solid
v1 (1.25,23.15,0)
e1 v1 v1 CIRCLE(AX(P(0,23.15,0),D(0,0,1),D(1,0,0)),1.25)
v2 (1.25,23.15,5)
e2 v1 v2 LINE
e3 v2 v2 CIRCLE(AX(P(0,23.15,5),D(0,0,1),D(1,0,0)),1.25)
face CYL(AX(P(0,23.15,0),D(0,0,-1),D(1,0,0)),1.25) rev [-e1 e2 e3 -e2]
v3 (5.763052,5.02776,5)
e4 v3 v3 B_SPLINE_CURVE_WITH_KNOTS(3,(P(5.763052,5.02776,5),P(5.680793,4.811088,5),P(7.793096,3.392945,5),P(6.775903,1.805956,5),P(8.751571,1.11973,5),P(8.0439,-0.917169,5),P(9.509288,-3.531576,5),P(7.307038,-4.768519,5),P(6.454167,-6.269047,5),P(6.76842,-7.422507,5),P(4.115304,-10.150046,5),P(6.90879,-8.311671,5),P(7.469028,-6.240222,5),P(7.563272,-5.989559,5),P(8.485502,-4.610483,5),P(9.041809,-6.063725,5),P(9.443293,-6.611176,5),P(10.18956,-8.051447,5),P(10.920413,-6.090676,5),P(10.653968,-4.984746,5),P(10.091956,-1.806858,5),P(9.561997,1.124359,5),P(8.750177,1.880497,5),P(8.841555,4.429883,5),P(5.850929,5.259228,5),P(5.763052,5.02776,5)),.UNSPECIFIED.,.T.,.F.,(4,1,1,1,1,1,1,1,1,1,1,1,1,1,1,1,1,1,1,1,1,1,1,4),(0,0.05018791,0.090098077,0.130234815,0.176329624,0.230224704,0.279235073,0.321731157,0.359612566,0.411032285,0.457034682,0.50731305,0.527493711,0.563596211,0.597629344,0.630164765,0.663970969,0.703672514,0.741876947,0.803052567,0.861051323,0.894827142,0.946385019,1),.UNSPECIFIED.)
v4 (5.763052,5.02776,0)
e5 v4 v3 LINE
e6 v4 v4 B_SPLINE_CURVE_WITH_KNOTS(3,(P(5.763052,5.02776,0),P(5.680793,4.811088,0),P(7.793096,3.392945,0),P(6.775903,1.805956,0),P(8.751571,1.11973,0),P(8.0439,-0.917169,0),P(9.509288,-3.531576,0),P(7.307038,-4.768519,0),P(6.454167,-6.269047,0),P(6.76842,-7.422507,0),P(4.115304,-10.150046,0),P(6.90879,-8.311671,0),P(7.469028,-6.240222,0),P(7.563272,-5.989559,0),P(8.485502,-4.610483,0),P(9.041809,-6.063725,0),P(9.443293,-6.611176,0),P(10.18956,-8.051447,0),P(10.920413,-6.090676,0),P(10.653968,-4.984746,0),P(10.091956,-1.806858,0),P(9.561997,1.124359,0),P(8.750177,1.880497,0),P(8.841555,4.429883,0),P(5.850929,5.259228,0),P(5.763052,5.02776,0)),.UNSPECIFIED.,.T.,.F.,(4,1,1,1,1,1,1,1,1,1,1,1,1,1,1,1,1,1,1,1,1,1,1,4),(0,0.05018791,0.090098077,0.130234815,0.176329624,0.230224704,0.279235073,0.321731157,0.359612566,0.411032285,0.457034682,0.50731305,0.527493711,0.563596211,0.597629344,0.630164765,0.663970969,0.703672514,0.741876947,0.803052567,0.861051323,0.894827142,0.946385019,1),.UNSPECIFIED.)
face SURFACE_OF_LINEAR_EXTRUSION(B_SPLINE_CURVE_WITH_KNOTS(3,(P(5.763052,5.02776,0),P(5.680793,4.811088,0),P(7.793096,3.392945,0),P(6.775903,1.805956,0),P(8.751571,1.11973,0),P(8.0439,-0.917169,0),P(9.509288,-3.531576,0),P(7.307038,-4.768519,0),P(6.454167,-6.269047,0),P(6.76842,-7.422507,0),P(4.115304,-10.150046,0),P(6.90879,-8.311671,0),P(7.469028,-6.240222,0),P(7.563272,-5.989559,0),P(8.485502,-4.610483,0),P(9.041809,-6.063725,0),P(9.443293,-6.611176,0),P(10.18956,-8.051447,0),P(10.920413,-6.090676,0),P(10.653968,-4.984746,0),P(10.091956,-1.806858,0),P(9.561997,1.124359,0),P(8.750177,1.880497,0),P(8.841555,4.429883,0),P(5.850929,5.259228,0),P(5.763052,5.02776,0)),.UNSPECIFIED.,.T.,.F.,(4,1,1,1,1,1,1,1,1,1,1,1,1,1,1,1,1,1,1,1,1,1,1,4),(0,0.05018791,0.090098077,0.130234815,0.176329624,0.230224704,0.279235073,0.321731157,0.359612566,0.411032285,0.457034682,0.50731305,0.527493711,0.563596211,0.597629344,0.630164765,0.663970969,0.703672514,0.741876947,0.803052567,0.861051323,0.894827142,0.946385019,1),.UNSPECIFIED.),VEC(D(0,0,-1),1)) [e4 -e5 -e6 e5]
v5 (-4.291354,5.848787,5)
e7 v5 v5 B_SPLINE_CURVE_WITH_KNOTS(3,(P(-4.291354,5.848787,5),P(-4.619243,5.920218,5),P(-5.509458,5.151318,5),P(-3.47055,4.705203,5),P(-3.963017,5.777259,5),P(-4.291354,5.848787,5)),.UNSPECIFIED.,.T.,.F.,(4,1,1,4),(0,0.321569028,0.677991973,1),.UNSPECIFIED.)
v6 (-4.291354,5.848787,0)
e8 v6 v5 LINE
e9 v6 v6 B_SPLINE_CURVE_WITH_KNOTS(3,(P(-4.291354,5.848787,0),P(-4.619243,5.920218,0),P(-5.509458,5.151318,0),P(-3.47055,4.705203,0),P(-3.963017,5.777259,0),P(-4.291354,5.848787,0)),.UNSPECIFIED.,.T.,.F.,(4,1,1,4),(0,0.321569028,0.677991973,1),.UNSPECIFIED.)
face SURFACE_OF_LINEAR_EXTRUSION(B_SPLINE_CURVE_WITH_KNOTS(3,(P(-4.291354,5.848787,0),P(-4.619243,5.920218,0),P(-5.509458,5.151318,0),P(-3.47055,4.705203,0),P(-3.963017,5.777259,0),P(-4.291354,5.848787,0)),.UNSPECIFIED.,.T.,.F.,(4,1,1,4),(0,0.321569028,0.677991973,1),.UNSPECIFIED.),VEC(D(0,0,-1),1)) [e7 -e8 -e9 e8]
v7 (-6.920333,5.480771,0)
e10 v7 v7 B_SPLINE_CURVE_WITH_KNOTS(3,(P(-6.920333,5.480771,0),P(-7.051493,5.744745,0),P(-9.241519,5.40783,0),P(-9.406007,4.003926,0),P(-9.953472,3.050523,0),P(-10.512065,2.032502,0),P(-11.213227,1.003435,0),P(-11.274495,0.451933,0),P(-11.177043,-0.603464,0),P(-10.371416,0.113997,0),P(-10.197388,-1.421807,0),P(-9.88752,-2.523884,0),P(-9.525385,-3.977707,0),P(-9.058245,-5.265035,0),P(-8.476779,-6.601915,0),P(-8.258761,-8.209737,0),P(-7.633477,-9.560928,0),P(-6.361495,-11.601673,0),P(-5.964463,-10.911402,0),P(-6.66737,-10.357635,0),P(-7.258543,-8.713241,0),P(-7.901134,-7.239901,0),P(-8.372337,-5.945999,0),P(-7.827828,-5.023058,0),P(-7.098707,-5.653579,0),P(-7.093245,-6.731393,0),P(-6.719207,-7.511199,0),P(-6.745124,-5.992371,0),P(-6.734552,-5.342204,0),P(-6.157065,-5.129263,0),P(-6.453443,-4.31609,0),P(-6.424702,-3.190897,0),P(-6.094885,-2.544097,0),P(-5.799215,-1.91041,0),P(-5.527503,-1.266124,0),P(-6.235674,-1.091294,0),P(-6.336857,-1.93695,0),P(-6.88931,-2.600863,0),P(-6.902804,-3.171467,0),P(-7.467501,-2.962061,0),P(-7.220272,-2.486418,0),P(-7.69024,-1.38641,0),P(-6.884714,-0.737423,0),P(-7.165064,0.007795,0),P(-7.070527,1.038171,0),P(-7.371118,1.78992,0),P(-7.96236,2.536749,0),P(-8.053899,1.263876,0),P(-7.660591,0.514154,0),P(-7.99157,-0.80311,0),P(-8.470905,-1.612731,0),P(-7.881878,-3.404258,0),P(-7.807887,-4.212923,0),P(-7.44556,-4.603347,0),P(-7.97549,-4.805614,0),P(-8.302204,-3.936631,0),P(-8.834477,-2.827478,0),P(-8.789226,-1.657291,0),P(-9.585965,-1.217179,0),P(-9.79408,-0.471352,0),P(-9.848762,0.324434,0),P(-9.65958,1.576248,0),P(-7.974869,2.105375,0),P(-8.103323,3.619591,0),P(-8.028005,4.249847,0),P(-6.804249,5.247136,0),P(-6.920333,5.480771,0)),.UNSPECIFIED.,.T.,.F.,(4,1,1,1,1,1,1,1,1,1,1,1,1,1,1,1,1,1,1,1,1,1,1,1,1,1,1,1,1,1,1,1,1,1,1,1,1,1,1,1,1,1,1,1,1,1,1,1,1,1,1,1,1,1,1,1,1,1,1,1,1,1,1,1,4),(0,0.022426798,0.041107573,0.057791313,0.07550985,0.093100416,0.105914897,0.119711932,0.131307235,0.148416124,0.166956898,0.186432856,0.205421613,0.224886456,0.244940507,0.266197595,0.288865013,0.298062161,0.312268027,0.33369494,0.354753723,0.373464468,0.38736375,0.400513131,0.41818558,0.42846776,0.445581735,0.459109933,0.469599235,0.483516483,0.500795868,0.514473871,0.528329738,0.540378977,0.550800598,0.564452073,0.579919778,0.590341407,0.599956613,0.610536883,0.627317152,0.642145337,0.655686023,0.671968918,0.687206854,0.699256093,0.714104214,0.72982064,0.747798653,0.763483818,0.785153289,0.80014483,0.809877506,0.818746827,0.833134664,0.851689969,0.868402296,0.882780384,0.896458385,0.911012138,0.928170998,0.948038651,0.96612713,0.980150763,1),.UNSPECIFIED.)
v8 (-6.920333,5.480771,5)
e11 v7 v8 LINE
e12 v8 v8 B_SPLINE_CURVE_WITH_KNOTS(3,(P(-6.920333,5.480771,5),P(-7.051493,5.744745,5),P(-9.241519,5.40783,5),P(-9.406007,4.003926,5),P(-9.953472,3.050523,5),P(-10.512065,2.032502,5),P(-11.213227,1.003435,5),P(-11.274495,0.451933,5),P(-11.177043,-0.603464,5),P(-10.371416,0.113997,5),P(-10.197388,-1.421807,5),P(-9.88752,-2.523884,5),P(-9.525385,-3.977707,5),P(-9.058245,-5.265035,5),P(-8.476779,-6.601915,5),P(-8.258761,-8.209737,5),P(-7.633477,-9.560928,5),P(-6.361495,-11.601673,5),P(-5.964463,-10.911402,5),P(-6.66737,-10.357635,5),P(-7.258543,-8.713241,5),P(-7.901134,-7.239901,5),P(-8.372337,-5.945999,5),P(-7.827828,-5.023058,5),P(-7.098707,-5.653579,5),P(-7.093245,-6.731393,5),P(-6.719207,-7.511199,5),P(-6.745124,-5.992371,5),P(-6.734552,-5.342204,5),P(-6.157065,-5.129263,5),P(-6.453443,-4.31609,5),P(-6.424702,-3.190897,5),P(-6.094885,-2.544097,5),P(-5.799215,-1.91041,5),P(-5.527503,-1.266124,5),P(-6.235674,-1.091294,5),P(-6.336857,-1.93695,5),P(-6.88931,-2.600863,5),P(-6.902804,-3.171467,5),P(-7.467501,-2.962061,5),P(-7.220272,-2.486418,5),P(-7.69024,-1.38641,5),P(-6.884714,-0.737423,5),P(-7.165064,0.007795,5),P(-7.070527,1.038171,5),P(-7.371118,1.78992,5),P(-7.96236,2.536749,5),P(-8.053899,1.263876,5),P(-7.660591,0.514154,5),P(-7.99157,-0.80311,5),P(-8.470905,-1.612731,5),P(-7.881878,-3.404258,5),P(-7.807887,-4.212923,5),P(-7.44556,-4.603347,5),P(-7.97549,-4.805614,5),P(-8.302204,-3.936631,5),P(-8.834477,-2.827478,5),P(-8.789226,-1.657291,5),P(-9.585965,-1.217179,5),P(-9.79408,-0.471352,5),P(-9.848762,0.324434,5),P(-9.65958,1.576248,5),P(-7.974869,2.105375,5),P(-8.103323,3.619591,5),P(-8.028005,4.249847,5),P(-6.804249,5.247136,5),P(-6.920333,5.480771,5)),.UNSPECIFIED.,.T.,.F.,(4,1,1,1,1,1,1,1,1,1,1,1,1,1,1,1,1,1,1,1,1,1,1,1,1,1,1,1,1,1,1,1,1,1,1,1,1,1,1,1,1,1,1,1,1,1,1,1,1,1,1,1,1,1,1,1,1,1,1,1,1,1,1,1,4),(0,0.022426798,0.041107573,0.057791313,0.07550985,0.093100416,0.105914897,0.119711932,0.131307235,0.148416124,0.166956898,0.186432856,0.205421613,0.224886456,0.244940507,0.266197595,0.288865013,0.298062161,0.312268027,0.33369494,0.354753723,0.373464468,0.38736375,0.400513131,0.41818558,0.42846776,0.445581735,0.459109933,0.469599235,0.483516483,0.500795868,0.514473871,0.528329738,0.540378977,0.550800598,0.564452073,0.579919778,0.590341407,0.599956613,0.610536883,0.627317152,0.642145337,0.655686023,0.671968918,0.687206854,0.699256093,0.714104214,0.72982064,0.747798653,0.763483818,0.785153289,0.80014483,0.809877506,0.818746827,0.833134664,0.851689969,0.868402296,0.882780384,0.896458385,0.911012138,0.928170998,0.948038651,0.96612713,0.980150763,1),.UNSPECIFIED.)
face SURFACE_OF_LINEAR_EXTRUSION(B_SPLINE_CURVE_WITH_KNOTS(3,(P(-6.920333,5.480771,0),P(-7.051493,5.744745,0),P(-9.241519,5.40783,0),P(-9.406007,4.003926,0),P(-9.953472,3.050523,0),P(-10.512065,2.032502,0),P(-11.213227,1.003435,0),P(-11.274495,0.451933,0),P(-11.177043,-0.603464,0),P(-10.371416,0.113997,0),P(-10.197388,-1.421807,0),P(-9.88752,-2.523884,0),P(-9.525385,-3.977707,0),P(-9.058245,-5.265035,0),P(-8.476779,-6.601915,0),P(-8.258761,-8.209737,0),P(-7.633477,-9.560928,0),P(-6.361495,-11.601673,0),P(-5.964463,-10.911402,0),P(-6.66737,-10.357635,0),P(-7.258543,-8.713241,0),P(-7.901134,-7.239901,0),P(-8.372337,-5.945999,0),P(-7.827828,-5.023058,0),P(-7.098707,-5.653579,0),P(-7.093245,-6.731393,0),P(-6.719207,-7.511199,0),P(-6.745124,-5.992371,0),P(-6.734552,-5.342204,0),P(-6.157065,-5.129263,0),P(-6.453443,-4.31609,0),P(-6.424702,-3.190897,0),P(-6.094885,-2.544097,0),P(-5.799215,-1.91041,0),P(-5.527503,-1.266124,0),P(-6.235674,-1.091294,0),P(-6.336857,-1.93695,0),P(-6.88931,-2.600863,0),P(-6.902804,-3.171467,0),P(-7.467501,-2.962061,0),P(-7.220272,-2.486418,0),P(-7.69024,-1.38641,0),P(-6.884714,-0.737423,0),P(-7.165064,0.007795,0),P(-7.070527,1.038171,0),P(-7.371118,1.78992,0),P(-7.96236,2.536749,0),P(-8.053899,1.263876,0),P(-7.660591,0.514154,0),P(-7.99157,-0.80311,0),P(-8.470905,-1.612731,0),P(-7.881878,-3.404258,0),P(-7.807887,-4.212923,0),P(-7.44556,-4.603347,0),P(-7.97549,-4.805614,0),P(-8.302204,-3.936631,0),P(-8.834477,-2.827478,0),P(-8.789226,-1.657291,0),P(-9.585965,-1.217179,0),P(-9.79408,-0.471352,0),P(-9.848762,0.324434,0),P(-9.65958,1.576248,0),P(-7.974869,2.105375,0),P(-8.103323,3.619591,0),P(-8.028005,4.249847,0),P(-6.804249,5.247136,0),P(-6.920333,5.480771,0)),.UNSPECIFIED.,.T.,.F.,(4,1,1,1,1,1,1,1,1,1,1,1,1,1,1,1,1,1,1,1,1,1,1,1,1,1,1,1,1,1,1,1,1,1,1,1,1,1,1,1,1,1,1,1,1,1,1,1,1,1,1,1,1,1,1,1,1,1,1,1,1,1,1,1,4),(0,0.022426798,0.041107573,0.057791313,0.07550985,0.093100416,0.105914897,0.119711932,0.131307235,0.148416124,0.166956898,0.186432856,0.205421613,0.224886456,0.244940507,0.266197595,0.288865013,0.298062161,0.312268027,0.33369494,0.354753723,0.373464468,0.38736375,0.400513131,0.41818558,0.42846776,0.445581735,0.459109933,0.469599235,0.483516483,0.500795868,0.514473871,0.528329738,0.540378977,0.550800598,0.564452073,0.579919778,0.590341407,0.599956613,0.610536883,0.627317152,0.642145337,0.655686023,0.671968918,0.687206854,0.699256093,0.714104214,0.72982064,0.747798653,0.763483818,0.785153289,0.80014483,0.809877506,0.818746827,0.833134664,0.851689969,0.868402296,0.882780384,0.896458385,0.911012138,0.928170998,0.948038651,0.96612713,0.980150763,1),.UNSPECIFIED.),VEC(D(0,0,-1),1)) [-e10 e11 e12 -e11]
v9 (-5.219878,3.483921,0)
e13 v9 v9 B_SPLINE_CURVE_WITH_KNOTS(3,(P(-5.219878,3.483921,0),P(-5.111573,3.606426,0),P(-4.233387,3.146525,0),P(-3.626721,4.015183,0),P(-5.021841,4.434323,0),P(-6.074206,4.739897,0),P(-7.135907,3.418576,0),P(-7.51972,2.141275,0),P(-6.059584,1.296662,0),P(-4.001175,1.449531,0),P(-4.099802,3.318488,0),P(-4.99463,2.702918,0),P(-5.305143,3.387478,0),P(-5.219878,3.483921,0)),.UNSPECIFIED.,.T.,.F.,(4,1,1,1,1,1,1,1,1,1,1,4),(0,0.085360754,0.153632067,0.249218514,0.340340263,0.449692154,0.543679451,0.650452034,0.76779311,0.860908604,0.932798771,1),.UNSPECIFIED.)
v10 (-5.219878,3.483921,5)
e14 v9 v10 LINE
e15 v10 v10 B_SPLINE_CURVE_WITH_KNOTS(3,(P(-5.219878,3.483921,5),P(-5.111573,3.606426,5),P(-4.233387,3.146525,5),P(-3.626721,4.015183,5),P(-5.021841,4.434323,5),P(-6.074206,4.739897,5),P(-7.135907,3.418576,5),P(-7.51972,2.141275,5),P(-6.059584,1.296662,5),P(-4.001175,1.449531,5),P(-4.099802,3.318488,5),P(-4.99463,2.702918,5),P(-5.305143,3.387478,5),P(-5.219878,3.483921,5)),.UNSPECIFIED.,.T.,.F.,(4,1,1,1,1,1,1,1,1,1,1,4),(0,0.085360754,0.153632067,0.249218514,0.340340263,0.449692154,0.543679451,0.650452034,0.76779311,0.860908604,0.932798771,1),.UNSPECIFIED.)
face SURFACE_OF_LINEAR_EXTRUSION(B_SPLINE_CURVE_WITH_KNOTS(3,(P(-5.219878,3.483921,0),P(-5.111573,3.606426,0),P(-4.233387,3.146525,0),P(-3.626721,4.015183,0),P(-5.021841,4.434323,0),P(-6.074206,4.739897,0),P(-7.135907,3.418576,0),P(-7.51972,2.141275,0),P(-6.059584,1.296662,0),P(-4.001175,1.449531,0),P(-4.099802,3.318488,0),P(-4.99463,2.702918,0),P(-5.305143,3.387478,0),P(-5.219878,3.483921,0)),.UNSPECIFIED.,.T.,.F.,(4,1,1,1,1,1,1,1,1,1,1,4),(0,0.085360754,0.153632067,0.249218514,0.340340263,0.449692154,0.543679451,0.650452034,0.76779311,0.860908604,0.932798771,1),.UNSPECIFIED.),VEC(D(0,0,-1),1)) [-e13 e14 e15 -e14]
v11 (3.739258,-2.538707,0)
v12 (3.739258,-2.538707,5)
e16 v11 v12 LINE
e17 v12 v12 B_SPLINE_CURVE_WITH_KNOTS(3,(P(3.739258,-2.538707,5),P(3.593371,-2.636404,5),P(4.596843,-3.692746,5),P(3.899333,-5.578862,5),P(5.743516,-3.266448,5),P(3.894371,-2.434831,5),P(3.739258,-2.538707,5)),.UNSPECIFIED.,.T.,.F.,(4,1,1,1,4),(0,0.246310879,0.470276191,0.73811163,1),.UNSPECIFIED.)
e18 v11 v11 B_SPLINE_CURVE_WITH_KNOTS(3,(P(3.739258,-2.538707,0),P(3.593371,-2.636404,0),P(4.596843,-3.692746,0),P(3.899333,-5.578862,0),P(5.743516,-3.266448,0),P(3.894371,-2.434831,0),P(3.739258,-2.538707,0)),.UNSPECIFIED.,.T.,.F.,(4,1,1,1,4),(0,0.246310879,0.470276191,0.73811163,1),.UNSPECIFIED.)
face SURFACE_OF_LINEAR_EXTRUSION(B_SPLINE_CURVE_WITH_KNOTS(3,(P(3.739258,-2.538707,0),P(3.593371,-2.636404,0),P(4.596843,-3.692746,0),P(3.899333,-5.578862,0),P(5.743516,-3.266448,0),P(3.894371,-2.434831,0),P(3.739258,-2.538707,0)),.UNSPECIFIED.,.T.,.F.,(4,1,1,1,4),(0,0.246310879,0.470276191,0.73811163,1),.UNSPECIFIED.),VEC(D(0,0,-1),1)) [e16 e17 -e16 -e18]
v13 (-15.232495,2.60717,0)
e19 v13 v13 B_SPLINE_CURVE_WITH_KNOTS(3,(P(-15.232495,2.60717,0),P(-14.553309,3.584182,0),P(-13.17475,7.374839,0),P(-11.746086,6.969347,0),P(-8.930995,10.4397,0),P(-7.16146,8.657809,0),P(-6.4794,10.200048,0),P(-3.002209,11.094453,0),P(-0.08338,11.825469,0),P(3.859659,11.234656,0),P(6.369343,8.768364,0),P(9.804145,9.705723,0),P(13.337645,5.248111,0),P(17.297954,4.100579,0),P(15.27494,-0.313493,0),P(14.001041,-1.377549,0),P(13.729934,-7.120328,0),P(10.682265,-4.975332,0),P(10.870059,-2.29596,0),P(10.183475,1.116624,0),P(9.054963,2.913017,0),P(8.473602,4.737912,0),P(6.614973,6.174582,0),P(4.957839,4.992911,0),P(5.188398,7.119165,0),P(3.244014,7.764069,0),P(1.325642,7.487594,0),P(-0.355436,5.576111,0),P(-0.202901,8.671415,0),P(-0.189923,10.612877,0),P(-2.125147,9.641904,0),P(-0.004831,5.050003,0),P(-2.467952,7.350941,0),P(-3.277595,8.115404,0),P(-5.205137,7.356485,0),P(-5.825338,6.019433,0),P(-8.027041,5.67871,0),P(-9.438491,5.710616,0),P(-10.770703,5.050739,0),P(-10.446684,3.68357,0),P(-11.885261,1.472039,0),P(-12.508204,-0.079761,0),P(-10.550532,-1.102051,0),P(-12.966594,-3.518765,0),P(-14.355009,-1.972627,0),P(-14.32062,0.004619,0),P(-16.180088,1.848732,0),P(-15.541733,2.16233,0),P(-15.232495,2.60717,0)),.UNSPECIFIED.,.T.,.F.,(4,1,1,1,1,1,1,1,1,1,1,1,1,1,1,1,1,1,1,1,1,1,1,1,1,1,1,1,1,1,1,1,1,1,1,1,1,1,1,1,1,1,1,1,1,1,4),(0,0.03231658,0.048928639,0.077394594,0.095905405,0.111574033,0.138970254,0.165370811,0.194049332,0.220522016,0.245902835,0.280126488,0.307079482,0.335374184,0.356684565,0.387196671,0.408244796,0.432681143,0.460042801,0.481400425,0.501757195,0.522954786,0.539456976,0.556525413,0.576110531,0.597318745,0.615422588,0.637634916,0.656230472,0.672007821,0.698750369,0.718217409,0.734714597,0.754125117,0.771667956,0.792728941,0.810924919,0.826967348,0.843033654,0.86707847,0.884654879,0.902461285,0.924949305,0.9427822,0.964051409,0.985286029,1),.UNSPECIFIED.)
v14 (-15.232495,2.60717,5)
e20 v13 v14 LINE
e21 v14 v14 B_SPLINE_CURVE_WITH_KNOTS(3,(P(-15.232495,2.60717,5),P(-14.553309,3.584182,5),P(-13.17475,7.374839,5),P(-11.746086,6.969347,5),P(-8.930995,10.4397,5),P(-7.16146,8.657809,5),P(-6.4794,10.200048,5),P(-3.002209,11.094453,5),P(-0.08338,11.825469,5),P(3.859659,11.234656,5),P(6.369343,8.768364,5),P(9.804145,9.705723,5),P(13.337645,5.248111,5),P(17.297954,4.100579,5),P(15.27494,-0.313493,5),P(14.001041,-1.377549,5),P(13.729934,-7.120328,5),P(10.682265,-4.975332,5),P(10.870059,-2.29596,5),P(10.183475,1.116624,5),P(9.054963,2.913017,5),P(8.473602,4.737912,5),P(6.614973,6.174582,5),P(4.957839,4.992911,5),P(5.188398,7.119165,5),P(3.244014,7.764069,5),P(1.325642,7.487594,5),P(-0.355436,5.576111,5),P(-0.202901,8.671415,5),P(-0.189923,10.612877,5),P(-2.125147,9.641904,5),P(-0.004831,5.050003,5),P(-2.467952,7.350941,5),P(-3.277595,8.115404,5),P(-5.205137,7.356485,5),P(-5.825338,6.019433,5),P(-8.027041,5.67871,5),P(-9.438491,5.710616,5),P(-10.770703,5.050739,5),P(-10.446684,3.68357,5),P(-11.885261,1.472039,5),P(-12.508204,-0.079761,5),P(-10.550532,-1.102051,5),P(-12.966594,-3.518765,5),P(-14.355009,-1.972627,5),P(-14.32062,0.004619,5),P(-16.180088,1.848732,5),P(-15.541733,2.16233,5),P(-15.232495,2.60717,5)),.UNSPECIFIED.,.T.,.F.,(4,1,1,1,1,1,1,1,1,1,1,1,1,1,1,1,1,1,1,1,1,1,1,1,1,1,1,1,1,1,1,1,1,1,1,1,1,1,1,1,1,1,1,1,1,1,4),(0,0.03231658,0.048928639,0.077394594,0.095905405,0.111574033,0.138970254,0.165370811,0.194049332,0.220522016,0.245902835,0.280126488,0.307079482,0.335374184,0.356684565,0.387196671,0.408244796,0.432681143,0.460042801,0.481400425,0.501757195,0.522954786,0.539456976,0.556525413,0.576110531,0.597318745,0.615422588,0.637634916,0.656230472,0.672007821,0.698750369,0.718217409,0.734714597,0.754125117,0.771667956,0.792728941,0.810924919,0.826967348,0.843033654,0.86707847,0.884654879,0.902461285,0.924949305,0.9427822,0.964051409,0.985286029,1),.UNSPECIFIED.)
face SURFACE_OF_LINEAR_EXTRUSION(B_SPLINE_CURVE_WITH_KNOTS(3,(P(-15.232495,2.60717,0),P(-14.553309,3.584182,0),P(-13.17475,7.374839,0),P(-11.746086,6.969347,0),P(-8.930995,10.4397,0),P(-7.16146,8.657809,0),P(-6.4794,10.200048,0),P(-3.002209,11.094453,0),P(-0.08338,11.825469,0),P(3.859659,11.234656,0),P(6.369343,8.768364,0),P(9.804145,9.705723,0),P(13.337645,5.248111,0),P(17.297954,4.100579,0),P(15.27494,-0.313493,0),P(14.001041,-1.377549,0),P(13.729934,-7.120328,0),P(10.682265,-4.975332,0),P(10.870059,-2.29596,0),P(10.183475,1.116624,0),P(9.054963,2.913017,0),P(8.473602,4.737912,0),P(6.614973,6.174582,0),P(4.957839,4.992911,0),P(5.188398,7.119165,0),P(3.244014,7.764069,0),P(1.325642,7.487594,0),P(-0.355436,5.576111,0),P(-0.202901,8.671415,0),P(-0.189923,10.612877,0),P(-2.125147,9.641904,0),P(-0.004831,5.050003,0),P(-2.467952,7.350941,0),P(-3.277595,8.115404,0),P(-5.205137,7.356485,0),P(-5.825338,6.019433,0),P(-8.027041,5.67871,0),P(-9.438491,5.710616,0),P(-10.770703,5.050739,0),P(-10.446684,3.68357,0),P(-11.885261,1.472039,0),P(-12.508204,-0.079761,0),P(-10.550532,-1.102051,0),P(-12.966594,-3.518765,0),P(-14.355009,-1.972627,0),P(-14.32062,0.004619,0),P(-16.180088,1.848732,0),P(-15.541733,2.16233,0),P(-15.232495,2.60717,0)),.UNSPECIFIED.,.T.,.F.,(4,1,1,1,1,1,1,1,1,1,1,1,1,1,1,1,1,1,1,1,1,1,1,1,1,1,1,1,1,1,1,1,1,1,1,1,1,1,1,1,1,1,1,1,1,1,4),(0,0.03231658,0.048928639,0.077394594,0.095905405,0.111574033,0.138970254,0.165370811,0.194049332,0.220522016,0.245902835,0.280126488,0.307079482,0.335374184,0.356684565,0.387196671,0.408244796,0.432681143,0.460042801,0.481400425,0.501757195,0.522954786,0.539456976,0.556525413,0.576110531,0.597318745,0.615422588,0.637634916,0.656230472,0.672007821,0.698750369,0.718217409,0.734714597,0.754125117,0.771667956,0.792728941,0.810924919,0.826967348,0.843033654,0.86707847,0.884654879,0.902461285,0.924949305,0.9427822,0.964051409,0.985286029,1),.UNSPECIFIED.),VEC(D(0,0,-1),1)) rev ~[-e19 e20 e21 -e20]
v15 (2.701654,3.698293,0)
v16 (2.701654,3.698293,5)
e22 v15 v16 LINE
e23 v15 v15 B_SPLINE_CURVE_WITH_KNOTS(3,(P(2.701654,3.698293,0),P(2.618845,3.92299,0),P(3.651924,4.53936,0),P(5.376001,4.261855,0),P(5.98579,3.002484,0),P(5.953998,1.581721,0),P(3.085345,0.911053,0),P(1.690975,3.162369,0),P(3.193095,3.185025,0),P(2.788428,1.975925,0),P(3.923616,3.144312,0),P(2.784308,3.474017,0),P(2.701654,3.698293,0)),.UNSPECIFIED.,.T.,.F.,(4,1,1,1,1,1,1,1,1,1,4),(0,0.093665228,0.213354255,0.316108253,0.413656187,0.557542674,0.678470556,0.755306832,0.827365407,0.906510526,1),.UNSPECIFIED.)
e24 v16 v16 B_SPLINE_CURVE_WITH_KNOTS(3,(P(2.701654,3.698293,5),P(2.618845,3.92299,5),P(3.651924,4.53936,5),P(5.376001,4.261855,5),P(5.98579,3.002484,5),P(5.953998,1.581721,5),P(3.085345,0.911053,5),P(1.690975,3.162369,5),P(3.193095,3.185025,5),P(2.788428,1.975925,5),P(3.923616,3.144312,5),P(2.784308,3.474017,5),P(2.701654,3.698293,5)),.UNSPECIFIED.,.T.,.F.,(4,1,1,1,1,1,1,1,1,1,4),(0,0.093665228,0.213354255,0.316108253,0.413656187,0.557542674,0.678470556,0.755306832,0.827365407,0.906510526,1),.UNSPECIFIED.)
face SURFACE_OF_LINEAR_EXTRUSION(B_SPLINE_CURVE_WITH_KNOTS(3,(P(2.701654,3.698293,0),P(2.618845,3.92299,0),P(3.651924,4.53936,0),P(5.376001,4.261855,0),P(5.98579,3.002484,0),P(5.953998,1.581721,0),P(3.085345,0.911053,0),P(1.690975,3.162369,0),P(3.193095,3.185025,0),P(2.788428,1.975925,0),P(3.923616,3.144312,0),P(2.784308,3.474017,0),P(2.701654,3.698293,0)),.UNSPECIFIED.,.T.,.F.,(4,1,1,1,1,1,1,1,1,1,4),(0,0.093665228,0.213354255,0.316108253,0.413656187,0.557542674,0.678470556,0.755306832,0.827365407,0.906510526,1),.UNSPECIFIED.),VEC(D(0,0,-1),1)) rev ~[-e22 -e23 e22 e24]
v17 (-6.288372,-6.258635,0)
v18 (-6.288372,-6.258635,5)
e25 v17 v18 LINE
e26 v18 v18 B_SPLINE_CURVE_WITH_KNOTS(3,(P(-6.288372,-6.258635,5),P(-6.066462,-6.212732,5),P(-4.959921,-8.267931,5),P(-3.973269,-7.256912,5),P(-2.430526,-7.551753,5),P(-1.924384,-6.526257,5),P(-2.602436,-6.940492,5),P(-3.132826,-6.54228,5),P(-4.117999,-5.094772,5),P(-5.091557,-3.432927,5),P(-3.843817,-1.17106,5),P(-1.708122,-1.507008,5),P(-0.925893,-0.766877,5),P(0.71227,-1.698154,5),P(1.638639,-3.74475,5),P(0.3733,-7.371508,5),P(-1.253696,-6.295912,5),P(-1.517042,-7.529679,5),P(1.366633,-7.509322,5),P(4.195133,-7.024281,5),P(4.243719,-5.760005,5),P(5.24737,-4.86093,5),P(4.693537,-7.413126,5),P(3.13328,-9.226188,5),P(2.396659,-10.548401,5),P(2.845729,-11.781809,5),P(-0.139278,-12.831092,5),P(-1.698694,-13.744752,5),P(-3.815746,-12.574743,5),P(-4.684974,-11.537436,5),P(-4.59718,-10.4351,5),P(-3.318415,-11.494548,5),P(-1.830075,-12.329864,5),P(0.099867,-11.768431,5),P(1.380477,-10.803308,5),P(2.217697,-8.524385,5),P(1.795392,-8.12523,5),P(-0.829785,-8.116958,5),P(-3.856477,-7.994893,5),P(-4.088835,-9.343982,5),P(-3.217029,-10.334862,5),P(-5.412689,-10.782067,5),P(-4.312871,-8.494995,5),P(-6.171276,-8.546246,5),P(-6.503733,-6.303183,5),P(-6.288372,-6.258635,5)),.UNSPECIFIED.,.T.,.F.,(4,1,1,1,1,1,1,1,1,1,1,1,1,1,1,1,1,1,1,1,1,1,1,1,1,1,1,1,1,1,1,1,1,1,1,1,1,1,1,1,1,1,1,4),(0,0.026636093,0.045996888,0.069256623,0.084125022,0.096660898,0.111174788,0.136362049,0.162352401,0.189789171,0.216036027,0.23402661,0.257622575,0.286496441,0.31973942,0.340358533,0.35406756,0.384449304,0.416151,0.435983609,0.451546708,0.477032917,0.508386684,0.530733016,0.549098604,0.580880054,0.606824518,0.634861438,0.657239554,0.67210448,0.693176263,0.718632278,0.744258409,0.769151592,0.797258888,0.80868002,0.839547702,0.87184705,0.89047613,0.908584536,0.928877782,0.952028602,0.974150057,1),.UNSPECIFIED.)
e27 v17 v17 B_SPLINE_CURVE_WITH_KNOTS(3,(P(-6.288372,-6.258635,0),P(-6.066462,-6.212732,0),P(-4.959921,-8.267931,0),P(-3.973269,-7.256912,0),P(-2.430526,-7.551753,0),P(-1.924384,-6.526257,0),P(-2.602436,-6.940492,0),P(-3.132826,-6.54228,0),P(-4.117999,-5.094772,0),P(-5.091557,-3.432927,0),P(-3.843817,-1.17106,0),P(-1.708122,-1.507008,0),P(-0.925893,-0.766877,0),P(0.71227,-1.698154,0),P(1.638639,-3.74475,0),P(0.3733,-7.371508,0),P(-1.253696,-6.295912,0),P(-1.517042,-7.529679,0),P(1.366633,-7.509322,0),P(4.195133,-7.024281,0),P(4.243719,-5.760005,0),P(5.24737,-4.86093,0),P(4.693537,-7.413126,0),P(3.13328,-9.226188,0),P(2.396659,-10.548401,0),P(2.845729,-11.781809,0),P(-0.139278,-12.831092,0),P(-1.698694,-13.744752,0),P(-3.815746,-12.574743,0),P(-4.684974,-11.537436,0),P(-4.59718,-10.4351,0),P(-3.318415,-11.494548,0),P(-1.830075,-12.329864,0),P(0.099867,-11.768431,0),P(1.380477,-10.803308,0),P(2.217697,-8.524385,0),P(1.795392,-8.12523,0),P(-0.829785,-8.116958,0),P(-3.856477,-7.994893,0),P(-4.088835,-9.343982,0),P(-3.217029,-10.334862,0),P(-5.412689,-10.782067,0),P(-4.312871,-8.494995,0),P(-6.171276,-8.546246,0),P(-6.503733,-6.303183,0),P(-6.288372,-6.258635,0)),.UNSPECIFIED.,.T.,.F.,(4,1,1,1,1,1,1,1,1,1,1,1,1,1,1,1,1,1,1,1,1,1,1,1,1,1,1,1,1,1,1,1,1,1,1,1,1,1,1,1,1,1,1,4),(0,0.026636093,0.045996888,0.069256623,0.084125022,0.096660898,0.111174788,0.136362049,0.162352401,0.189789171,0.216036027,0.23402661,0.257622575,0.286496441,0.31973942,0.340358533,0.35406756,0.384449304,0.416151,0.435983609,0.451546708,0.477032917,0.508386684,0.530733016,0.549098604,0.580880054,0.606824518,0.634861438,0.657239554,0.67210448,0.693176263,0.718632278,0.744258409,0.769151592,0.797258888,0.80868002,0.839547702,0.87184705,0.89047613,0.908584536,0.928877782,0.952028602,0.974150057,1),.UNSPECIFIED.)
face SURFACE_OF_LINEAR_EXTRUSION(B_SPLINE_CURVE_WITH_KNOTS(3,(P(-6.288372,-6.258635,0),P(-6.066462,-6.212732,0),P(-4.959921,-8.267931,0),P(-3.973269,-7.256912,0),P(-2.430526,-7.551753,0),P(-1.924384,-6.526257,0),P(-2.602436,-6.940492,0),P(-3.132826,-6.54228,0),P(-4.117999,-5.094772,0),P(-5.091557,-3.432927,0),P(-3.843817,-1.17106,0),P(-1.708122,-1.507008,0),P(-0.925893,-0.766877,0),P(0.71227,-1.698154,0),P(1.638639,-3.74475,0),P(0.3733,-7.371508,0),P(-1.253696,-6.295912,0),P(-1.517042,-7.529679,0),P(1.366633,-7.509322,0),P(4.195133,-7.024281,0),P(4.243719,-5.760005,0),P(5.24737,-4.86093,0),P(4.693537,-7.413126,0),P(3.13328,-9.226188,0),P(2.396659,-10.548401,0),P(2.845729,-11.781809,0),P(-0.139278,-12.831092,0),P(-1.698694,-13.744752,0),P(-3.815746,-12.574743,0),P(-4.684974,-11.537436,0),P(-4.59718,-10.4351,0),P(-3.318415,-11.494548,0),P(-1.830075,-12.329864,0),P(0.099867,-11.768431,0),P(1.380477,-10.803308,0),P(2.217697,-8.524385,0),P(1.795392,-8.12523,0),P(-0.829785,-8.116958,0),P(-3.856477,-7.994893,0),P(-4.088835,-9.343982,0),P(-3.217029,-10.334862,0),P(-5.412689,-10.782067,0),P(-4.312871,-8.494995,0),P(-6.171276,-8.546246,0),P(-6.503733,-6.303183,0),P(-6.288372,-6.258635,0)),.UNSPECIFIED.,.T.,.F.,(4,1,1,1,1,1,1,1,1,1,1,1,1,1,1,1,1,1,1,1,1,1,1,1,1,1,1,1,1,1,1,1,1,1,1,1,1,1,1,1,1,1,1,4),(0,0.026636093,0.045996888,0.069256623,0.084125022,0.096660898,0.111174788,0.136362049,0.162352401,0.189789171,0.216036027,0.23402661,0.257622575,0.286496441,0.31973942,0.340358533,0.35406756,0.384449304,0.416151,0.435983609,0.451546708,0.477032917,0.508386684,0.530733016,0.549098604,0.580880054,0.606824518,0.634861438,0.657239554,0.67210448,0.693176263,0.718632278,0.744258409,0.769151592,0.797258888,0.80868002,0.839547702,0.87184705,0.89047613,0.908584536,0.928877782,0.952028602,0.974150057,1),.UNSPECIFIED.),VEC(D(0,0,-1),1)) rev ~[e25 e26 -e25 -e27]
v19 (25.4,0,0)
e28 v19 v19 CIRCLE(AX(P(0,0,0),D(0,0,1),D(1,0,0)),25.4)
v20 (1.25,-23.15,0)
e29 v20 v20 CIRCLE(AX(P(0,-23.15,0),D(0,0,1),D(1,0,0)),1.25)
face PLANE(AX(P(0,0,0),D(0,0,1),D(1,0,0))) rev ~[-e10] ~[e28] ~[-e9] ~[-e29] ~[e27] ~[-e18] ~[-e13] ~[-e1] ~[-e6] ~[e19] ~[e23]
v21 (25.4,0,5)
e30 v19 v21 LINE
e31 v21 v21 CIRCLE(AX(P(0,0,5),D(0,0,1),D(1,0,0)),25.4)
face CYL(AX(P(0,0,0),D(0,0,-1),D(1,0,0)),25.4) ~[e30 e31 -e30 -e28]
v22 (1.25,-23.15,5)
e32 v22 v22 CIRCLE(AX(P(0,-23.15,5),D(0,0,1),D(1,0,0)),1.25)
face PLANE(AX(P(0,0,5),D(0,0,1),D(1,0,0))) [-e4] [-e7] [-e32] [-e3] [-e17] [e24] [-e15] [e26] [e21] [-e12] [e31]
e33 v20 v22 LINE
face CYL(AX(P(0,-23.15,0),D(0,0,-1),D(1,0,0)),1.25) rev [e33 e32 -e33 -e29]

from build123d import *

# Parameters (mm, degrees)
F0_R     = 25.4
F0_R_2   = 1.25
F1_DEPTH = 5


with BuildPart() as f1:
    # F0 (on Top) → F1 (new body)
    with BuildSketch(Plane.XY):
        Circle(F0_R)
        with Locations((0, -23.15)):
            Circle(F0_R_2, mode=Mode.SUBTRACT)
        with BuildLine():
            add(Edge.make_bspline(
                [(-6.2883724459, -6.2586348504), (-6.0664618571, -6.212731786), (-4.9599211519, -8.2679311953), (-3.9732685039, -7.2569115886), (-2.4305258815, -7.5517532594), (-1.9243835764, -6.5262568716), (-2.6024356961, -6.9404918878), (-3.1328259739, -6.5422802575), (-4.1179990995, -5.094771781), (-5.091557018, -3.4329266732), (-3.8438167911, -1.1710597827), (-1.7081220211, -1.5070080382), (-0.9258925203, -0.7668774159), (0.7122704042, -1.6981535771), (1.6386387196, -3.7447497476), (0.3732998004, -7.3715084263), (-1.2536958465, -6.2959120532), (-1.5170418557, -7.5296791692), (1.3666328177, -7.509321903), (4.1951329648, -7.0242814905), (4.2437194645, -5.7600048358), (5.2473697132, -4.8609301603), (4.6935374067, -7.4131255584), (3.1332795229, -9.2261878829), (2.3966586206, -10.5484008933), (2.8457293992, -11.7818091656), (-0.1392778011, -12.8310924469), (-1.6986939527, -13.744751684), (-3.8157458148, -12.5747430513), (-4.6849744648, -11.5374355048), (-4.5971801628, -10.435100185), (-3.318414681, -11.4945479261), (-1.8300745843, -12.3298636094), (0.099866537, -11.7684309378), (1.3804773928, -10.8033077453), (2.2176966678, -8.5243850544), (1.7953915031, -8.1252298583), (-0.8297854866, -8.1169580652), (-3.8564765089, -7.9948928384), (-4.0888350663, -9.3439818164), (-3.2170293522, -10.3348616333), (-5.4126886002, -10.782067192), (-4.3128706879, -8.4949945613), (-6.1712759397, -8.5462463063), (-6.5037334636, -6.3031831106), (-6.2883724459, -6.2586348504)],
                knots=[0, 0, 0, 0, 0.026636093, 0.045996888, 0.0692566227, 0.0841250216, 0.096660898, 0.1111747884, 0.136362049, 0.1623524012, 0.1897891714, 0.2160360271, 0.2340266095, 0.2576225753, 0.2864964411, 0.3197394201, 0.3403585334, 0.3540675599, 0.3844493037, 0.4161510004, 0.4359836095, 0.451546708, 0.4770329174, 0.5083866836, 0.5307330161, 0.5490986038, 0.5808800537, 0.6068245179, 0.6348614375, 0.657239554, 0.6721044803, 0.6931762627, 0.7186322783, 0.7442584095, 0.7691515921, 0.7972588878, 0.8086800205, 0.8395477025, 0.8718470501, 0.8904761301, 0.9085845363, 0.9288777819, 0.9520286019, 0.9741500569, 1, 1, 1, 1], degree=3))
        make_face(mode=Mode.SUBTRACT)
        with BuildLine():
            add(Edge.make_bspline(
                [(-6.9203334861, 5.4807714187), (-7.0514928389, 5.744745492), (-9.2415185325, 5.4078296725), (-9.4060066782, 4.0039260674), (-9.9534718557, 3.050523192), (-10.5120654415, 2.0325024694), (-11.2132271147, 1.0034353056), (-11.2744950803, 0.4519333783), (-11.177043427, -0.6034644564), (-10.3714158932, 0.1139965865), (-10.1973883337, -1.4218072064), (-9.8875200658, -2.5238843362), (-9.5253851246, -3.9777071014), (-9.0582448503, -5.265035225), (-8.4767786854, -6.601914727), (-8.2587606969, -8.209737419), (-7.6334771917, -9.5609275963), (-6.3614954836, -11.6016726844), (-5.9644632331, -10.9114018566), (-6.6673695763, -10.3576352817), (-7.2585426921, -8.7132409419), (-7.9011342473, -7.2399006324), (-8.3723369238, -5.9459992538), (-7.8278280593, -5.0230582443), (-7.0987066842, -5.653578893), (-7.0932447072, -6.7313926687), (-6.7192068732, -7.5111989869), (-6.7451241201, -5.9923705727), (-6.7345516586, -5.3422040863), (-6.1570654173, -5.1292628713), (-6.453442654, -4.3160896187), (-6.4247018846, -3.1908965803), (-6.0948851071, -2.5440972143), (-5.7992147092, -1.910409551), (-5.5275032689, -1.2661236916), (-6.2356741134, -1.0912937836), (-6.3368569558, -1.9369495476), (-6.8893102544, -2.6008633104), (-6.9028036365, -3.1714670075), (-7.467501078, -2.9620606632), (-7.2202722316, -2.4864179292), (-7.6902404822, -1.3864097376), (-6.8847141246, -0.7374233695), (-7.1650639122, 0.007794542), (-7.0705270791, 1.0381710302), (-7.3711183904, 1.7899204419), (-7.962359953, 2.5367488785), (-8.0538988905, 1.2638761515), (-7.6605906357, 0.5141535614), (-7.9915697993, -0.8031103732), (-8.4709048883, -1.6127310234), (-7.8818784596, -3.4042582966), (-7.8078872465, -4.2129226178), (-7.4455601619, -4.6033472031), (-7.9754902863, -4.8056136402), (-8.3022041235, -3.9366314563), (-8.8344765482, -2.8274779171), (-8.7892260395, -1.6572909369), (-9.5859648991, -1.2171787835), (-9.7940800061, -0.4713515585), (-9.8487624181, 0.3244337492), (-9.6595800436, 1.5762480929), (-7.9748688016, 2.1053751378), (-8.1033228938, 3.619591053), (-8.0280046189, 4.2498473217), (-6.8042485634, 5.2471364608), (-6.9203334861, 5.4807714187)],
                knots=[0, 0, 0, 0, 0.0224267976, 0.0411075728, 0.057791313, 0.07550985, 0.093100416, 0.105914897, 0.1197119322, 0.1313072346, 0.1484161244, 0.1669568981, 0.1864328559, 0.2054216134, 0.2248864562, 0.2449405067, 0.2661975952, 0.2888650128, 0.2980621608, 0.3122680275, 0.3336949396, 0.3547537227, 0.3734644677, 0.3873637497, 0.4005131307, 0.4181855803, 0.4284677598, 0.4455817351, 0.4591099328, 0.4695992353, 0.4835164828, 0.500795868, 0.5144738706, 0.5283297378, 0.5403789775, 0.5508005979, 0.5644520731, 0.5799197782, 0.5903414069, 0.5999566128, 0.6105368834, 0.627317152, 0.642145337, 0.6556860226, 0.671968918, 0.6872068543, 0.699256093, 0.7141042139, 0.72982064, 0.7477986533, 0.7634838181, 0.7851532894, 0.8001448296, 0.8098775063, 0.8187468269, 0.833134664, 0.8516899686, 0.8684022964, 0.8827803837, 0.8964583849, 0.9110121379, 0.9281709978, 0.9480386506, 0.9661271297, 0.9801507631, 1, 1, 1, 1], degree=3))
        make_face(mode=Mode.SUBTRACT)
        with BuildLine():
            add(Edge.make_bspline(
                [(3.7392580416, -2.5387068745), (3.5933714354, -2.6364039893), (4.5968434203, -3.6927464702), (3.8993333805, -5.5788620085), (5.7435159505, -3.2664483789), (3.894370985, -2.4348310805), (3.7392580416, -2.5387068745)],
                knots=[0, 0, 0, 0, 0.2463108794, 0.4702761913, 0.7381116299, 1, 1, 1, 1], degree=3))
        make_face(mode=Mode.SUBTRACT)
        with BuildLine():
            add(Edge.make_bspline(
                [(5.7630524971, 5.0277602859), (5.680793475, 4.8110878412), (7.7930958939, 3.3929446382), (6.7759026006, 1.8059558432), (8.751571338, 1.1197297188), (8.043899563, -0.9171688983), (9.5092883575, -3.53157643), (7.3070377603, -4.7685186755), (6.4541674456, -6.2690471053), (6.7684197338, -7.422507424), (4.115303645, -10.1500464829), (6.908789902, -8.3116709324), (7.4690283046, -6.240221779), (7.5632721014, -5.9895587227), (8.4855020992, -4.6104827353), (9.0418089447, -6.063725342), (9.4432928048, -6.6111758119), (10.1895595986, -8.0514468664), (10.9204131018, -6.0906761402), (10.6539682427, -4.9847455606), (10.0919563702, -1.8068575474), (9.5619974027, 1.1243585089), (8.7501772186, 1.8804966426), (8.8415546899, 4.4298825554), (5.8509285595, 5.2592281639), (5.7630524971, 5.0277602859)],
                knots=[0, 0, 0, 0, 0.0501879099, 0.0900980767, 0.130234815, 0.1763296235, 0.2302247045, 0.2792350728, 0.3217311566, 0.3596125664, 0.4110322854, 0.4570346816, 0.5073130504, 0.5274937111, 0.5635962111, 0.5976293442, 0.6301647652, 0.6639709689, 0.7036725139, 0.7418769471, 0.8030525671, 0.8610513227, 0.8948271417, 0.946385019, 1, 1, 1, 1], degree=3))
        make_face(mode=Mode.SUBTRACT)
        with BuildLine():
            add(Edge.make_bspline(
                [(-5.2198781632, 3.4839210566), (-5.1115726193, 3.6064256596), (-4.233386665, 3.1465245427), (-3.6267205588, 4.0151829143), (-5.0218411516, 4.4343227093), (-6.0742062656, 4.7398971753), (-7.1359071038, 3.4185764275), (-7.5197204689, 2.1412752199), (-6.0595842642, 1.29666226), (-4.0011753937, 1.449531464), (-4.0998022846, 3.3184884458), (-4.9946295741, 2.7029180592), (-5.3051429406, 3.3874779077), (-5.2198781632, 3.4839210566)],
                knots=[0, 0, 0, 0, 0.085360754, 0.1536320668, 0.249218514, 0.3403402629, 0.4496921539, 0.5436794515, 0.6504520339, 0.7677931101, 0.8609086045, 0.9327987707, 1, 1, 1, 1], degree=3))
        make_face(mode=Mode.SUBTRACT)
        with BuildLine():
            add(Edge.make_bspline(
                [(-4.2913540053, 5.8487872004), (-4.6192432422, 5.9202179937), (-5.5094584857, 5.1513182963), (-3.470550413, 4.7052026829), (-3.963017141, 5.7772588913), (-4.2913540053, 5.8487872004)],
                knots=[0, 0, 0, 0, 0.3215690283, 0.6779919726, 1, 1, 1, 1], degree=3))
        make_face(mode=Mode.SUBTRACT)
        with Locations((0, 23.15)):
            Circle(F0_R_2, mode=Mode.SUBTRACT)
        with BuildLine():
            add(Edge.make_bspline(
                [(-15.232494918, 2.6071704338), (-14.5533089258, 3.584182166), (-13.1747495373, 7.3748386876), (-11.7460864723, 6.9693472009), (-8.9309946284, 10.4396998695), (-7.1614604878, 8.6578085952), (-6.4794001709, 10.2000475198), (-3.0022089969, 11.0944528045), (-0.08337959, 11.8254691262), (3.859658771, 11.2346559952), (6.3693431756, 8.7683639079), (9.8041446027, 9.7057232515), (13.3376451425, 5.2481107654), (17.2979538858, 4.1005791422), (15.2749404444, -0.313493115), (14.0010414275, -1.3775494109), (13.7299336035, -7.1203275621), (10.6822647175, -4.9753315436), (10.8700586338, -2.2959604214), (10.1834749711, 1.1166237972), (9.0549630431, 2.9130168142), (8.4736020793, 4.7379122473), (6.6149727028, 6.1745818717), (4.9578385346, 4.9929106139), (5.1883983138, 7.1191646358), (3.244014373, 7.764069145), (1.3256419105, 7.4875939864), (-0.3554360433, 5.5761105743), (-0.2029006722, 8.6714151164), (-0.1899234531, 10.6128772606), (-2.1251465646, 9.6419036219), (-0.0048309292, 5.0500028982), (-2.4679524164, 7.3509411914), (-3.2775952172, 8.1154043765), (-5.205136665, 7.3564848725), (-5.8253380374, 6.0194331327), (-8.0270411434, 5.6787098882), (-9.4384906297, 5.7106161733), (-10.7707034013, 5.0507385821), (-10.4466843426, 3.6835703664), (-11.8852610522, 1.4720389204), (-12.5082036467, -0.079760568), (-10.550531721, -1.1020510368), (-12.9665943209, -3.5187648835), (-14.3550094252, -1.9726266691), (-14.3206197931, 0.0046190459), (-16.1800880193, 1.8487317775), (-15.5417331801, 2.1623299725), (-15.232494918, 2.6071704338)],
                knots=[0, 0, 0, 0, 0.0323165799, 0.0489286385, 0.0773945942, 0.0959054051, 0.1115740331, 0.1389702536, 0.1653708107, 0.1940493317, 0.2205220159, 0.245902835, 0.2801264882, 0.3070794817, 0.3353741843, 0.356684565, 0.3871966715, 0.4082447963, 0.4326811433, 0.4600428012, 0.4814004248, 0.5017571947, 0.5229547861, 0.5394569763, 0.5565254127, 0.5761105307, 0.5973187454, 0.6154225877, 0.6376349163, 0.656230472, 0.6720078209, 0.6987503686, 0.7182174089, 0.7347145971, 0.7541251165, 0.7716679557, 0.7927289414, 0.8109249186, 0.8269673475, 0.8430336539, 0.8670784702, 0.8846548794, 0.9024612854, 0.9249493045, 0.9427822002, 0.9640514085, 0.985286029, 1, 1, 1, 1], degree=3))
        make_face(mode=Mode.SUBTRACT)
        with BuildLine():
            add(Edge.make_bspline(
                [(2.7016543318, 3.6982928868), (2.6188451143, 3.9229899172), (3.6519237909, 4.5393598649), (5.3760012153, 4.2618545414), (5.9857904646, 3.0024837306), (5.953997719, 1.5817205245), (3.0853448814, 0.9110532507), (1.6909754525, 3.1623692421), (3.1930949684, 3.1850248389), (2.788428025, 1.975925061), (3.9236157283, 3.1443123892), (2.784308165, 3.4740174806), (2.7016543318, 3.6982928868)],
                knots=[0, 0, 0, 0, 0.093665228, 0.2133542554, 0.3161082528, 0.413656187, 0.5575426745, 0.6784705561, 0.755306832, 0.8273654073, 0.9065105265, 1, 1, 1, 1], degree=3))
        make_face(mode=Mode.SUBTRACT)
    extrude(amount=F1_DEPTH)


solid = f1.part
